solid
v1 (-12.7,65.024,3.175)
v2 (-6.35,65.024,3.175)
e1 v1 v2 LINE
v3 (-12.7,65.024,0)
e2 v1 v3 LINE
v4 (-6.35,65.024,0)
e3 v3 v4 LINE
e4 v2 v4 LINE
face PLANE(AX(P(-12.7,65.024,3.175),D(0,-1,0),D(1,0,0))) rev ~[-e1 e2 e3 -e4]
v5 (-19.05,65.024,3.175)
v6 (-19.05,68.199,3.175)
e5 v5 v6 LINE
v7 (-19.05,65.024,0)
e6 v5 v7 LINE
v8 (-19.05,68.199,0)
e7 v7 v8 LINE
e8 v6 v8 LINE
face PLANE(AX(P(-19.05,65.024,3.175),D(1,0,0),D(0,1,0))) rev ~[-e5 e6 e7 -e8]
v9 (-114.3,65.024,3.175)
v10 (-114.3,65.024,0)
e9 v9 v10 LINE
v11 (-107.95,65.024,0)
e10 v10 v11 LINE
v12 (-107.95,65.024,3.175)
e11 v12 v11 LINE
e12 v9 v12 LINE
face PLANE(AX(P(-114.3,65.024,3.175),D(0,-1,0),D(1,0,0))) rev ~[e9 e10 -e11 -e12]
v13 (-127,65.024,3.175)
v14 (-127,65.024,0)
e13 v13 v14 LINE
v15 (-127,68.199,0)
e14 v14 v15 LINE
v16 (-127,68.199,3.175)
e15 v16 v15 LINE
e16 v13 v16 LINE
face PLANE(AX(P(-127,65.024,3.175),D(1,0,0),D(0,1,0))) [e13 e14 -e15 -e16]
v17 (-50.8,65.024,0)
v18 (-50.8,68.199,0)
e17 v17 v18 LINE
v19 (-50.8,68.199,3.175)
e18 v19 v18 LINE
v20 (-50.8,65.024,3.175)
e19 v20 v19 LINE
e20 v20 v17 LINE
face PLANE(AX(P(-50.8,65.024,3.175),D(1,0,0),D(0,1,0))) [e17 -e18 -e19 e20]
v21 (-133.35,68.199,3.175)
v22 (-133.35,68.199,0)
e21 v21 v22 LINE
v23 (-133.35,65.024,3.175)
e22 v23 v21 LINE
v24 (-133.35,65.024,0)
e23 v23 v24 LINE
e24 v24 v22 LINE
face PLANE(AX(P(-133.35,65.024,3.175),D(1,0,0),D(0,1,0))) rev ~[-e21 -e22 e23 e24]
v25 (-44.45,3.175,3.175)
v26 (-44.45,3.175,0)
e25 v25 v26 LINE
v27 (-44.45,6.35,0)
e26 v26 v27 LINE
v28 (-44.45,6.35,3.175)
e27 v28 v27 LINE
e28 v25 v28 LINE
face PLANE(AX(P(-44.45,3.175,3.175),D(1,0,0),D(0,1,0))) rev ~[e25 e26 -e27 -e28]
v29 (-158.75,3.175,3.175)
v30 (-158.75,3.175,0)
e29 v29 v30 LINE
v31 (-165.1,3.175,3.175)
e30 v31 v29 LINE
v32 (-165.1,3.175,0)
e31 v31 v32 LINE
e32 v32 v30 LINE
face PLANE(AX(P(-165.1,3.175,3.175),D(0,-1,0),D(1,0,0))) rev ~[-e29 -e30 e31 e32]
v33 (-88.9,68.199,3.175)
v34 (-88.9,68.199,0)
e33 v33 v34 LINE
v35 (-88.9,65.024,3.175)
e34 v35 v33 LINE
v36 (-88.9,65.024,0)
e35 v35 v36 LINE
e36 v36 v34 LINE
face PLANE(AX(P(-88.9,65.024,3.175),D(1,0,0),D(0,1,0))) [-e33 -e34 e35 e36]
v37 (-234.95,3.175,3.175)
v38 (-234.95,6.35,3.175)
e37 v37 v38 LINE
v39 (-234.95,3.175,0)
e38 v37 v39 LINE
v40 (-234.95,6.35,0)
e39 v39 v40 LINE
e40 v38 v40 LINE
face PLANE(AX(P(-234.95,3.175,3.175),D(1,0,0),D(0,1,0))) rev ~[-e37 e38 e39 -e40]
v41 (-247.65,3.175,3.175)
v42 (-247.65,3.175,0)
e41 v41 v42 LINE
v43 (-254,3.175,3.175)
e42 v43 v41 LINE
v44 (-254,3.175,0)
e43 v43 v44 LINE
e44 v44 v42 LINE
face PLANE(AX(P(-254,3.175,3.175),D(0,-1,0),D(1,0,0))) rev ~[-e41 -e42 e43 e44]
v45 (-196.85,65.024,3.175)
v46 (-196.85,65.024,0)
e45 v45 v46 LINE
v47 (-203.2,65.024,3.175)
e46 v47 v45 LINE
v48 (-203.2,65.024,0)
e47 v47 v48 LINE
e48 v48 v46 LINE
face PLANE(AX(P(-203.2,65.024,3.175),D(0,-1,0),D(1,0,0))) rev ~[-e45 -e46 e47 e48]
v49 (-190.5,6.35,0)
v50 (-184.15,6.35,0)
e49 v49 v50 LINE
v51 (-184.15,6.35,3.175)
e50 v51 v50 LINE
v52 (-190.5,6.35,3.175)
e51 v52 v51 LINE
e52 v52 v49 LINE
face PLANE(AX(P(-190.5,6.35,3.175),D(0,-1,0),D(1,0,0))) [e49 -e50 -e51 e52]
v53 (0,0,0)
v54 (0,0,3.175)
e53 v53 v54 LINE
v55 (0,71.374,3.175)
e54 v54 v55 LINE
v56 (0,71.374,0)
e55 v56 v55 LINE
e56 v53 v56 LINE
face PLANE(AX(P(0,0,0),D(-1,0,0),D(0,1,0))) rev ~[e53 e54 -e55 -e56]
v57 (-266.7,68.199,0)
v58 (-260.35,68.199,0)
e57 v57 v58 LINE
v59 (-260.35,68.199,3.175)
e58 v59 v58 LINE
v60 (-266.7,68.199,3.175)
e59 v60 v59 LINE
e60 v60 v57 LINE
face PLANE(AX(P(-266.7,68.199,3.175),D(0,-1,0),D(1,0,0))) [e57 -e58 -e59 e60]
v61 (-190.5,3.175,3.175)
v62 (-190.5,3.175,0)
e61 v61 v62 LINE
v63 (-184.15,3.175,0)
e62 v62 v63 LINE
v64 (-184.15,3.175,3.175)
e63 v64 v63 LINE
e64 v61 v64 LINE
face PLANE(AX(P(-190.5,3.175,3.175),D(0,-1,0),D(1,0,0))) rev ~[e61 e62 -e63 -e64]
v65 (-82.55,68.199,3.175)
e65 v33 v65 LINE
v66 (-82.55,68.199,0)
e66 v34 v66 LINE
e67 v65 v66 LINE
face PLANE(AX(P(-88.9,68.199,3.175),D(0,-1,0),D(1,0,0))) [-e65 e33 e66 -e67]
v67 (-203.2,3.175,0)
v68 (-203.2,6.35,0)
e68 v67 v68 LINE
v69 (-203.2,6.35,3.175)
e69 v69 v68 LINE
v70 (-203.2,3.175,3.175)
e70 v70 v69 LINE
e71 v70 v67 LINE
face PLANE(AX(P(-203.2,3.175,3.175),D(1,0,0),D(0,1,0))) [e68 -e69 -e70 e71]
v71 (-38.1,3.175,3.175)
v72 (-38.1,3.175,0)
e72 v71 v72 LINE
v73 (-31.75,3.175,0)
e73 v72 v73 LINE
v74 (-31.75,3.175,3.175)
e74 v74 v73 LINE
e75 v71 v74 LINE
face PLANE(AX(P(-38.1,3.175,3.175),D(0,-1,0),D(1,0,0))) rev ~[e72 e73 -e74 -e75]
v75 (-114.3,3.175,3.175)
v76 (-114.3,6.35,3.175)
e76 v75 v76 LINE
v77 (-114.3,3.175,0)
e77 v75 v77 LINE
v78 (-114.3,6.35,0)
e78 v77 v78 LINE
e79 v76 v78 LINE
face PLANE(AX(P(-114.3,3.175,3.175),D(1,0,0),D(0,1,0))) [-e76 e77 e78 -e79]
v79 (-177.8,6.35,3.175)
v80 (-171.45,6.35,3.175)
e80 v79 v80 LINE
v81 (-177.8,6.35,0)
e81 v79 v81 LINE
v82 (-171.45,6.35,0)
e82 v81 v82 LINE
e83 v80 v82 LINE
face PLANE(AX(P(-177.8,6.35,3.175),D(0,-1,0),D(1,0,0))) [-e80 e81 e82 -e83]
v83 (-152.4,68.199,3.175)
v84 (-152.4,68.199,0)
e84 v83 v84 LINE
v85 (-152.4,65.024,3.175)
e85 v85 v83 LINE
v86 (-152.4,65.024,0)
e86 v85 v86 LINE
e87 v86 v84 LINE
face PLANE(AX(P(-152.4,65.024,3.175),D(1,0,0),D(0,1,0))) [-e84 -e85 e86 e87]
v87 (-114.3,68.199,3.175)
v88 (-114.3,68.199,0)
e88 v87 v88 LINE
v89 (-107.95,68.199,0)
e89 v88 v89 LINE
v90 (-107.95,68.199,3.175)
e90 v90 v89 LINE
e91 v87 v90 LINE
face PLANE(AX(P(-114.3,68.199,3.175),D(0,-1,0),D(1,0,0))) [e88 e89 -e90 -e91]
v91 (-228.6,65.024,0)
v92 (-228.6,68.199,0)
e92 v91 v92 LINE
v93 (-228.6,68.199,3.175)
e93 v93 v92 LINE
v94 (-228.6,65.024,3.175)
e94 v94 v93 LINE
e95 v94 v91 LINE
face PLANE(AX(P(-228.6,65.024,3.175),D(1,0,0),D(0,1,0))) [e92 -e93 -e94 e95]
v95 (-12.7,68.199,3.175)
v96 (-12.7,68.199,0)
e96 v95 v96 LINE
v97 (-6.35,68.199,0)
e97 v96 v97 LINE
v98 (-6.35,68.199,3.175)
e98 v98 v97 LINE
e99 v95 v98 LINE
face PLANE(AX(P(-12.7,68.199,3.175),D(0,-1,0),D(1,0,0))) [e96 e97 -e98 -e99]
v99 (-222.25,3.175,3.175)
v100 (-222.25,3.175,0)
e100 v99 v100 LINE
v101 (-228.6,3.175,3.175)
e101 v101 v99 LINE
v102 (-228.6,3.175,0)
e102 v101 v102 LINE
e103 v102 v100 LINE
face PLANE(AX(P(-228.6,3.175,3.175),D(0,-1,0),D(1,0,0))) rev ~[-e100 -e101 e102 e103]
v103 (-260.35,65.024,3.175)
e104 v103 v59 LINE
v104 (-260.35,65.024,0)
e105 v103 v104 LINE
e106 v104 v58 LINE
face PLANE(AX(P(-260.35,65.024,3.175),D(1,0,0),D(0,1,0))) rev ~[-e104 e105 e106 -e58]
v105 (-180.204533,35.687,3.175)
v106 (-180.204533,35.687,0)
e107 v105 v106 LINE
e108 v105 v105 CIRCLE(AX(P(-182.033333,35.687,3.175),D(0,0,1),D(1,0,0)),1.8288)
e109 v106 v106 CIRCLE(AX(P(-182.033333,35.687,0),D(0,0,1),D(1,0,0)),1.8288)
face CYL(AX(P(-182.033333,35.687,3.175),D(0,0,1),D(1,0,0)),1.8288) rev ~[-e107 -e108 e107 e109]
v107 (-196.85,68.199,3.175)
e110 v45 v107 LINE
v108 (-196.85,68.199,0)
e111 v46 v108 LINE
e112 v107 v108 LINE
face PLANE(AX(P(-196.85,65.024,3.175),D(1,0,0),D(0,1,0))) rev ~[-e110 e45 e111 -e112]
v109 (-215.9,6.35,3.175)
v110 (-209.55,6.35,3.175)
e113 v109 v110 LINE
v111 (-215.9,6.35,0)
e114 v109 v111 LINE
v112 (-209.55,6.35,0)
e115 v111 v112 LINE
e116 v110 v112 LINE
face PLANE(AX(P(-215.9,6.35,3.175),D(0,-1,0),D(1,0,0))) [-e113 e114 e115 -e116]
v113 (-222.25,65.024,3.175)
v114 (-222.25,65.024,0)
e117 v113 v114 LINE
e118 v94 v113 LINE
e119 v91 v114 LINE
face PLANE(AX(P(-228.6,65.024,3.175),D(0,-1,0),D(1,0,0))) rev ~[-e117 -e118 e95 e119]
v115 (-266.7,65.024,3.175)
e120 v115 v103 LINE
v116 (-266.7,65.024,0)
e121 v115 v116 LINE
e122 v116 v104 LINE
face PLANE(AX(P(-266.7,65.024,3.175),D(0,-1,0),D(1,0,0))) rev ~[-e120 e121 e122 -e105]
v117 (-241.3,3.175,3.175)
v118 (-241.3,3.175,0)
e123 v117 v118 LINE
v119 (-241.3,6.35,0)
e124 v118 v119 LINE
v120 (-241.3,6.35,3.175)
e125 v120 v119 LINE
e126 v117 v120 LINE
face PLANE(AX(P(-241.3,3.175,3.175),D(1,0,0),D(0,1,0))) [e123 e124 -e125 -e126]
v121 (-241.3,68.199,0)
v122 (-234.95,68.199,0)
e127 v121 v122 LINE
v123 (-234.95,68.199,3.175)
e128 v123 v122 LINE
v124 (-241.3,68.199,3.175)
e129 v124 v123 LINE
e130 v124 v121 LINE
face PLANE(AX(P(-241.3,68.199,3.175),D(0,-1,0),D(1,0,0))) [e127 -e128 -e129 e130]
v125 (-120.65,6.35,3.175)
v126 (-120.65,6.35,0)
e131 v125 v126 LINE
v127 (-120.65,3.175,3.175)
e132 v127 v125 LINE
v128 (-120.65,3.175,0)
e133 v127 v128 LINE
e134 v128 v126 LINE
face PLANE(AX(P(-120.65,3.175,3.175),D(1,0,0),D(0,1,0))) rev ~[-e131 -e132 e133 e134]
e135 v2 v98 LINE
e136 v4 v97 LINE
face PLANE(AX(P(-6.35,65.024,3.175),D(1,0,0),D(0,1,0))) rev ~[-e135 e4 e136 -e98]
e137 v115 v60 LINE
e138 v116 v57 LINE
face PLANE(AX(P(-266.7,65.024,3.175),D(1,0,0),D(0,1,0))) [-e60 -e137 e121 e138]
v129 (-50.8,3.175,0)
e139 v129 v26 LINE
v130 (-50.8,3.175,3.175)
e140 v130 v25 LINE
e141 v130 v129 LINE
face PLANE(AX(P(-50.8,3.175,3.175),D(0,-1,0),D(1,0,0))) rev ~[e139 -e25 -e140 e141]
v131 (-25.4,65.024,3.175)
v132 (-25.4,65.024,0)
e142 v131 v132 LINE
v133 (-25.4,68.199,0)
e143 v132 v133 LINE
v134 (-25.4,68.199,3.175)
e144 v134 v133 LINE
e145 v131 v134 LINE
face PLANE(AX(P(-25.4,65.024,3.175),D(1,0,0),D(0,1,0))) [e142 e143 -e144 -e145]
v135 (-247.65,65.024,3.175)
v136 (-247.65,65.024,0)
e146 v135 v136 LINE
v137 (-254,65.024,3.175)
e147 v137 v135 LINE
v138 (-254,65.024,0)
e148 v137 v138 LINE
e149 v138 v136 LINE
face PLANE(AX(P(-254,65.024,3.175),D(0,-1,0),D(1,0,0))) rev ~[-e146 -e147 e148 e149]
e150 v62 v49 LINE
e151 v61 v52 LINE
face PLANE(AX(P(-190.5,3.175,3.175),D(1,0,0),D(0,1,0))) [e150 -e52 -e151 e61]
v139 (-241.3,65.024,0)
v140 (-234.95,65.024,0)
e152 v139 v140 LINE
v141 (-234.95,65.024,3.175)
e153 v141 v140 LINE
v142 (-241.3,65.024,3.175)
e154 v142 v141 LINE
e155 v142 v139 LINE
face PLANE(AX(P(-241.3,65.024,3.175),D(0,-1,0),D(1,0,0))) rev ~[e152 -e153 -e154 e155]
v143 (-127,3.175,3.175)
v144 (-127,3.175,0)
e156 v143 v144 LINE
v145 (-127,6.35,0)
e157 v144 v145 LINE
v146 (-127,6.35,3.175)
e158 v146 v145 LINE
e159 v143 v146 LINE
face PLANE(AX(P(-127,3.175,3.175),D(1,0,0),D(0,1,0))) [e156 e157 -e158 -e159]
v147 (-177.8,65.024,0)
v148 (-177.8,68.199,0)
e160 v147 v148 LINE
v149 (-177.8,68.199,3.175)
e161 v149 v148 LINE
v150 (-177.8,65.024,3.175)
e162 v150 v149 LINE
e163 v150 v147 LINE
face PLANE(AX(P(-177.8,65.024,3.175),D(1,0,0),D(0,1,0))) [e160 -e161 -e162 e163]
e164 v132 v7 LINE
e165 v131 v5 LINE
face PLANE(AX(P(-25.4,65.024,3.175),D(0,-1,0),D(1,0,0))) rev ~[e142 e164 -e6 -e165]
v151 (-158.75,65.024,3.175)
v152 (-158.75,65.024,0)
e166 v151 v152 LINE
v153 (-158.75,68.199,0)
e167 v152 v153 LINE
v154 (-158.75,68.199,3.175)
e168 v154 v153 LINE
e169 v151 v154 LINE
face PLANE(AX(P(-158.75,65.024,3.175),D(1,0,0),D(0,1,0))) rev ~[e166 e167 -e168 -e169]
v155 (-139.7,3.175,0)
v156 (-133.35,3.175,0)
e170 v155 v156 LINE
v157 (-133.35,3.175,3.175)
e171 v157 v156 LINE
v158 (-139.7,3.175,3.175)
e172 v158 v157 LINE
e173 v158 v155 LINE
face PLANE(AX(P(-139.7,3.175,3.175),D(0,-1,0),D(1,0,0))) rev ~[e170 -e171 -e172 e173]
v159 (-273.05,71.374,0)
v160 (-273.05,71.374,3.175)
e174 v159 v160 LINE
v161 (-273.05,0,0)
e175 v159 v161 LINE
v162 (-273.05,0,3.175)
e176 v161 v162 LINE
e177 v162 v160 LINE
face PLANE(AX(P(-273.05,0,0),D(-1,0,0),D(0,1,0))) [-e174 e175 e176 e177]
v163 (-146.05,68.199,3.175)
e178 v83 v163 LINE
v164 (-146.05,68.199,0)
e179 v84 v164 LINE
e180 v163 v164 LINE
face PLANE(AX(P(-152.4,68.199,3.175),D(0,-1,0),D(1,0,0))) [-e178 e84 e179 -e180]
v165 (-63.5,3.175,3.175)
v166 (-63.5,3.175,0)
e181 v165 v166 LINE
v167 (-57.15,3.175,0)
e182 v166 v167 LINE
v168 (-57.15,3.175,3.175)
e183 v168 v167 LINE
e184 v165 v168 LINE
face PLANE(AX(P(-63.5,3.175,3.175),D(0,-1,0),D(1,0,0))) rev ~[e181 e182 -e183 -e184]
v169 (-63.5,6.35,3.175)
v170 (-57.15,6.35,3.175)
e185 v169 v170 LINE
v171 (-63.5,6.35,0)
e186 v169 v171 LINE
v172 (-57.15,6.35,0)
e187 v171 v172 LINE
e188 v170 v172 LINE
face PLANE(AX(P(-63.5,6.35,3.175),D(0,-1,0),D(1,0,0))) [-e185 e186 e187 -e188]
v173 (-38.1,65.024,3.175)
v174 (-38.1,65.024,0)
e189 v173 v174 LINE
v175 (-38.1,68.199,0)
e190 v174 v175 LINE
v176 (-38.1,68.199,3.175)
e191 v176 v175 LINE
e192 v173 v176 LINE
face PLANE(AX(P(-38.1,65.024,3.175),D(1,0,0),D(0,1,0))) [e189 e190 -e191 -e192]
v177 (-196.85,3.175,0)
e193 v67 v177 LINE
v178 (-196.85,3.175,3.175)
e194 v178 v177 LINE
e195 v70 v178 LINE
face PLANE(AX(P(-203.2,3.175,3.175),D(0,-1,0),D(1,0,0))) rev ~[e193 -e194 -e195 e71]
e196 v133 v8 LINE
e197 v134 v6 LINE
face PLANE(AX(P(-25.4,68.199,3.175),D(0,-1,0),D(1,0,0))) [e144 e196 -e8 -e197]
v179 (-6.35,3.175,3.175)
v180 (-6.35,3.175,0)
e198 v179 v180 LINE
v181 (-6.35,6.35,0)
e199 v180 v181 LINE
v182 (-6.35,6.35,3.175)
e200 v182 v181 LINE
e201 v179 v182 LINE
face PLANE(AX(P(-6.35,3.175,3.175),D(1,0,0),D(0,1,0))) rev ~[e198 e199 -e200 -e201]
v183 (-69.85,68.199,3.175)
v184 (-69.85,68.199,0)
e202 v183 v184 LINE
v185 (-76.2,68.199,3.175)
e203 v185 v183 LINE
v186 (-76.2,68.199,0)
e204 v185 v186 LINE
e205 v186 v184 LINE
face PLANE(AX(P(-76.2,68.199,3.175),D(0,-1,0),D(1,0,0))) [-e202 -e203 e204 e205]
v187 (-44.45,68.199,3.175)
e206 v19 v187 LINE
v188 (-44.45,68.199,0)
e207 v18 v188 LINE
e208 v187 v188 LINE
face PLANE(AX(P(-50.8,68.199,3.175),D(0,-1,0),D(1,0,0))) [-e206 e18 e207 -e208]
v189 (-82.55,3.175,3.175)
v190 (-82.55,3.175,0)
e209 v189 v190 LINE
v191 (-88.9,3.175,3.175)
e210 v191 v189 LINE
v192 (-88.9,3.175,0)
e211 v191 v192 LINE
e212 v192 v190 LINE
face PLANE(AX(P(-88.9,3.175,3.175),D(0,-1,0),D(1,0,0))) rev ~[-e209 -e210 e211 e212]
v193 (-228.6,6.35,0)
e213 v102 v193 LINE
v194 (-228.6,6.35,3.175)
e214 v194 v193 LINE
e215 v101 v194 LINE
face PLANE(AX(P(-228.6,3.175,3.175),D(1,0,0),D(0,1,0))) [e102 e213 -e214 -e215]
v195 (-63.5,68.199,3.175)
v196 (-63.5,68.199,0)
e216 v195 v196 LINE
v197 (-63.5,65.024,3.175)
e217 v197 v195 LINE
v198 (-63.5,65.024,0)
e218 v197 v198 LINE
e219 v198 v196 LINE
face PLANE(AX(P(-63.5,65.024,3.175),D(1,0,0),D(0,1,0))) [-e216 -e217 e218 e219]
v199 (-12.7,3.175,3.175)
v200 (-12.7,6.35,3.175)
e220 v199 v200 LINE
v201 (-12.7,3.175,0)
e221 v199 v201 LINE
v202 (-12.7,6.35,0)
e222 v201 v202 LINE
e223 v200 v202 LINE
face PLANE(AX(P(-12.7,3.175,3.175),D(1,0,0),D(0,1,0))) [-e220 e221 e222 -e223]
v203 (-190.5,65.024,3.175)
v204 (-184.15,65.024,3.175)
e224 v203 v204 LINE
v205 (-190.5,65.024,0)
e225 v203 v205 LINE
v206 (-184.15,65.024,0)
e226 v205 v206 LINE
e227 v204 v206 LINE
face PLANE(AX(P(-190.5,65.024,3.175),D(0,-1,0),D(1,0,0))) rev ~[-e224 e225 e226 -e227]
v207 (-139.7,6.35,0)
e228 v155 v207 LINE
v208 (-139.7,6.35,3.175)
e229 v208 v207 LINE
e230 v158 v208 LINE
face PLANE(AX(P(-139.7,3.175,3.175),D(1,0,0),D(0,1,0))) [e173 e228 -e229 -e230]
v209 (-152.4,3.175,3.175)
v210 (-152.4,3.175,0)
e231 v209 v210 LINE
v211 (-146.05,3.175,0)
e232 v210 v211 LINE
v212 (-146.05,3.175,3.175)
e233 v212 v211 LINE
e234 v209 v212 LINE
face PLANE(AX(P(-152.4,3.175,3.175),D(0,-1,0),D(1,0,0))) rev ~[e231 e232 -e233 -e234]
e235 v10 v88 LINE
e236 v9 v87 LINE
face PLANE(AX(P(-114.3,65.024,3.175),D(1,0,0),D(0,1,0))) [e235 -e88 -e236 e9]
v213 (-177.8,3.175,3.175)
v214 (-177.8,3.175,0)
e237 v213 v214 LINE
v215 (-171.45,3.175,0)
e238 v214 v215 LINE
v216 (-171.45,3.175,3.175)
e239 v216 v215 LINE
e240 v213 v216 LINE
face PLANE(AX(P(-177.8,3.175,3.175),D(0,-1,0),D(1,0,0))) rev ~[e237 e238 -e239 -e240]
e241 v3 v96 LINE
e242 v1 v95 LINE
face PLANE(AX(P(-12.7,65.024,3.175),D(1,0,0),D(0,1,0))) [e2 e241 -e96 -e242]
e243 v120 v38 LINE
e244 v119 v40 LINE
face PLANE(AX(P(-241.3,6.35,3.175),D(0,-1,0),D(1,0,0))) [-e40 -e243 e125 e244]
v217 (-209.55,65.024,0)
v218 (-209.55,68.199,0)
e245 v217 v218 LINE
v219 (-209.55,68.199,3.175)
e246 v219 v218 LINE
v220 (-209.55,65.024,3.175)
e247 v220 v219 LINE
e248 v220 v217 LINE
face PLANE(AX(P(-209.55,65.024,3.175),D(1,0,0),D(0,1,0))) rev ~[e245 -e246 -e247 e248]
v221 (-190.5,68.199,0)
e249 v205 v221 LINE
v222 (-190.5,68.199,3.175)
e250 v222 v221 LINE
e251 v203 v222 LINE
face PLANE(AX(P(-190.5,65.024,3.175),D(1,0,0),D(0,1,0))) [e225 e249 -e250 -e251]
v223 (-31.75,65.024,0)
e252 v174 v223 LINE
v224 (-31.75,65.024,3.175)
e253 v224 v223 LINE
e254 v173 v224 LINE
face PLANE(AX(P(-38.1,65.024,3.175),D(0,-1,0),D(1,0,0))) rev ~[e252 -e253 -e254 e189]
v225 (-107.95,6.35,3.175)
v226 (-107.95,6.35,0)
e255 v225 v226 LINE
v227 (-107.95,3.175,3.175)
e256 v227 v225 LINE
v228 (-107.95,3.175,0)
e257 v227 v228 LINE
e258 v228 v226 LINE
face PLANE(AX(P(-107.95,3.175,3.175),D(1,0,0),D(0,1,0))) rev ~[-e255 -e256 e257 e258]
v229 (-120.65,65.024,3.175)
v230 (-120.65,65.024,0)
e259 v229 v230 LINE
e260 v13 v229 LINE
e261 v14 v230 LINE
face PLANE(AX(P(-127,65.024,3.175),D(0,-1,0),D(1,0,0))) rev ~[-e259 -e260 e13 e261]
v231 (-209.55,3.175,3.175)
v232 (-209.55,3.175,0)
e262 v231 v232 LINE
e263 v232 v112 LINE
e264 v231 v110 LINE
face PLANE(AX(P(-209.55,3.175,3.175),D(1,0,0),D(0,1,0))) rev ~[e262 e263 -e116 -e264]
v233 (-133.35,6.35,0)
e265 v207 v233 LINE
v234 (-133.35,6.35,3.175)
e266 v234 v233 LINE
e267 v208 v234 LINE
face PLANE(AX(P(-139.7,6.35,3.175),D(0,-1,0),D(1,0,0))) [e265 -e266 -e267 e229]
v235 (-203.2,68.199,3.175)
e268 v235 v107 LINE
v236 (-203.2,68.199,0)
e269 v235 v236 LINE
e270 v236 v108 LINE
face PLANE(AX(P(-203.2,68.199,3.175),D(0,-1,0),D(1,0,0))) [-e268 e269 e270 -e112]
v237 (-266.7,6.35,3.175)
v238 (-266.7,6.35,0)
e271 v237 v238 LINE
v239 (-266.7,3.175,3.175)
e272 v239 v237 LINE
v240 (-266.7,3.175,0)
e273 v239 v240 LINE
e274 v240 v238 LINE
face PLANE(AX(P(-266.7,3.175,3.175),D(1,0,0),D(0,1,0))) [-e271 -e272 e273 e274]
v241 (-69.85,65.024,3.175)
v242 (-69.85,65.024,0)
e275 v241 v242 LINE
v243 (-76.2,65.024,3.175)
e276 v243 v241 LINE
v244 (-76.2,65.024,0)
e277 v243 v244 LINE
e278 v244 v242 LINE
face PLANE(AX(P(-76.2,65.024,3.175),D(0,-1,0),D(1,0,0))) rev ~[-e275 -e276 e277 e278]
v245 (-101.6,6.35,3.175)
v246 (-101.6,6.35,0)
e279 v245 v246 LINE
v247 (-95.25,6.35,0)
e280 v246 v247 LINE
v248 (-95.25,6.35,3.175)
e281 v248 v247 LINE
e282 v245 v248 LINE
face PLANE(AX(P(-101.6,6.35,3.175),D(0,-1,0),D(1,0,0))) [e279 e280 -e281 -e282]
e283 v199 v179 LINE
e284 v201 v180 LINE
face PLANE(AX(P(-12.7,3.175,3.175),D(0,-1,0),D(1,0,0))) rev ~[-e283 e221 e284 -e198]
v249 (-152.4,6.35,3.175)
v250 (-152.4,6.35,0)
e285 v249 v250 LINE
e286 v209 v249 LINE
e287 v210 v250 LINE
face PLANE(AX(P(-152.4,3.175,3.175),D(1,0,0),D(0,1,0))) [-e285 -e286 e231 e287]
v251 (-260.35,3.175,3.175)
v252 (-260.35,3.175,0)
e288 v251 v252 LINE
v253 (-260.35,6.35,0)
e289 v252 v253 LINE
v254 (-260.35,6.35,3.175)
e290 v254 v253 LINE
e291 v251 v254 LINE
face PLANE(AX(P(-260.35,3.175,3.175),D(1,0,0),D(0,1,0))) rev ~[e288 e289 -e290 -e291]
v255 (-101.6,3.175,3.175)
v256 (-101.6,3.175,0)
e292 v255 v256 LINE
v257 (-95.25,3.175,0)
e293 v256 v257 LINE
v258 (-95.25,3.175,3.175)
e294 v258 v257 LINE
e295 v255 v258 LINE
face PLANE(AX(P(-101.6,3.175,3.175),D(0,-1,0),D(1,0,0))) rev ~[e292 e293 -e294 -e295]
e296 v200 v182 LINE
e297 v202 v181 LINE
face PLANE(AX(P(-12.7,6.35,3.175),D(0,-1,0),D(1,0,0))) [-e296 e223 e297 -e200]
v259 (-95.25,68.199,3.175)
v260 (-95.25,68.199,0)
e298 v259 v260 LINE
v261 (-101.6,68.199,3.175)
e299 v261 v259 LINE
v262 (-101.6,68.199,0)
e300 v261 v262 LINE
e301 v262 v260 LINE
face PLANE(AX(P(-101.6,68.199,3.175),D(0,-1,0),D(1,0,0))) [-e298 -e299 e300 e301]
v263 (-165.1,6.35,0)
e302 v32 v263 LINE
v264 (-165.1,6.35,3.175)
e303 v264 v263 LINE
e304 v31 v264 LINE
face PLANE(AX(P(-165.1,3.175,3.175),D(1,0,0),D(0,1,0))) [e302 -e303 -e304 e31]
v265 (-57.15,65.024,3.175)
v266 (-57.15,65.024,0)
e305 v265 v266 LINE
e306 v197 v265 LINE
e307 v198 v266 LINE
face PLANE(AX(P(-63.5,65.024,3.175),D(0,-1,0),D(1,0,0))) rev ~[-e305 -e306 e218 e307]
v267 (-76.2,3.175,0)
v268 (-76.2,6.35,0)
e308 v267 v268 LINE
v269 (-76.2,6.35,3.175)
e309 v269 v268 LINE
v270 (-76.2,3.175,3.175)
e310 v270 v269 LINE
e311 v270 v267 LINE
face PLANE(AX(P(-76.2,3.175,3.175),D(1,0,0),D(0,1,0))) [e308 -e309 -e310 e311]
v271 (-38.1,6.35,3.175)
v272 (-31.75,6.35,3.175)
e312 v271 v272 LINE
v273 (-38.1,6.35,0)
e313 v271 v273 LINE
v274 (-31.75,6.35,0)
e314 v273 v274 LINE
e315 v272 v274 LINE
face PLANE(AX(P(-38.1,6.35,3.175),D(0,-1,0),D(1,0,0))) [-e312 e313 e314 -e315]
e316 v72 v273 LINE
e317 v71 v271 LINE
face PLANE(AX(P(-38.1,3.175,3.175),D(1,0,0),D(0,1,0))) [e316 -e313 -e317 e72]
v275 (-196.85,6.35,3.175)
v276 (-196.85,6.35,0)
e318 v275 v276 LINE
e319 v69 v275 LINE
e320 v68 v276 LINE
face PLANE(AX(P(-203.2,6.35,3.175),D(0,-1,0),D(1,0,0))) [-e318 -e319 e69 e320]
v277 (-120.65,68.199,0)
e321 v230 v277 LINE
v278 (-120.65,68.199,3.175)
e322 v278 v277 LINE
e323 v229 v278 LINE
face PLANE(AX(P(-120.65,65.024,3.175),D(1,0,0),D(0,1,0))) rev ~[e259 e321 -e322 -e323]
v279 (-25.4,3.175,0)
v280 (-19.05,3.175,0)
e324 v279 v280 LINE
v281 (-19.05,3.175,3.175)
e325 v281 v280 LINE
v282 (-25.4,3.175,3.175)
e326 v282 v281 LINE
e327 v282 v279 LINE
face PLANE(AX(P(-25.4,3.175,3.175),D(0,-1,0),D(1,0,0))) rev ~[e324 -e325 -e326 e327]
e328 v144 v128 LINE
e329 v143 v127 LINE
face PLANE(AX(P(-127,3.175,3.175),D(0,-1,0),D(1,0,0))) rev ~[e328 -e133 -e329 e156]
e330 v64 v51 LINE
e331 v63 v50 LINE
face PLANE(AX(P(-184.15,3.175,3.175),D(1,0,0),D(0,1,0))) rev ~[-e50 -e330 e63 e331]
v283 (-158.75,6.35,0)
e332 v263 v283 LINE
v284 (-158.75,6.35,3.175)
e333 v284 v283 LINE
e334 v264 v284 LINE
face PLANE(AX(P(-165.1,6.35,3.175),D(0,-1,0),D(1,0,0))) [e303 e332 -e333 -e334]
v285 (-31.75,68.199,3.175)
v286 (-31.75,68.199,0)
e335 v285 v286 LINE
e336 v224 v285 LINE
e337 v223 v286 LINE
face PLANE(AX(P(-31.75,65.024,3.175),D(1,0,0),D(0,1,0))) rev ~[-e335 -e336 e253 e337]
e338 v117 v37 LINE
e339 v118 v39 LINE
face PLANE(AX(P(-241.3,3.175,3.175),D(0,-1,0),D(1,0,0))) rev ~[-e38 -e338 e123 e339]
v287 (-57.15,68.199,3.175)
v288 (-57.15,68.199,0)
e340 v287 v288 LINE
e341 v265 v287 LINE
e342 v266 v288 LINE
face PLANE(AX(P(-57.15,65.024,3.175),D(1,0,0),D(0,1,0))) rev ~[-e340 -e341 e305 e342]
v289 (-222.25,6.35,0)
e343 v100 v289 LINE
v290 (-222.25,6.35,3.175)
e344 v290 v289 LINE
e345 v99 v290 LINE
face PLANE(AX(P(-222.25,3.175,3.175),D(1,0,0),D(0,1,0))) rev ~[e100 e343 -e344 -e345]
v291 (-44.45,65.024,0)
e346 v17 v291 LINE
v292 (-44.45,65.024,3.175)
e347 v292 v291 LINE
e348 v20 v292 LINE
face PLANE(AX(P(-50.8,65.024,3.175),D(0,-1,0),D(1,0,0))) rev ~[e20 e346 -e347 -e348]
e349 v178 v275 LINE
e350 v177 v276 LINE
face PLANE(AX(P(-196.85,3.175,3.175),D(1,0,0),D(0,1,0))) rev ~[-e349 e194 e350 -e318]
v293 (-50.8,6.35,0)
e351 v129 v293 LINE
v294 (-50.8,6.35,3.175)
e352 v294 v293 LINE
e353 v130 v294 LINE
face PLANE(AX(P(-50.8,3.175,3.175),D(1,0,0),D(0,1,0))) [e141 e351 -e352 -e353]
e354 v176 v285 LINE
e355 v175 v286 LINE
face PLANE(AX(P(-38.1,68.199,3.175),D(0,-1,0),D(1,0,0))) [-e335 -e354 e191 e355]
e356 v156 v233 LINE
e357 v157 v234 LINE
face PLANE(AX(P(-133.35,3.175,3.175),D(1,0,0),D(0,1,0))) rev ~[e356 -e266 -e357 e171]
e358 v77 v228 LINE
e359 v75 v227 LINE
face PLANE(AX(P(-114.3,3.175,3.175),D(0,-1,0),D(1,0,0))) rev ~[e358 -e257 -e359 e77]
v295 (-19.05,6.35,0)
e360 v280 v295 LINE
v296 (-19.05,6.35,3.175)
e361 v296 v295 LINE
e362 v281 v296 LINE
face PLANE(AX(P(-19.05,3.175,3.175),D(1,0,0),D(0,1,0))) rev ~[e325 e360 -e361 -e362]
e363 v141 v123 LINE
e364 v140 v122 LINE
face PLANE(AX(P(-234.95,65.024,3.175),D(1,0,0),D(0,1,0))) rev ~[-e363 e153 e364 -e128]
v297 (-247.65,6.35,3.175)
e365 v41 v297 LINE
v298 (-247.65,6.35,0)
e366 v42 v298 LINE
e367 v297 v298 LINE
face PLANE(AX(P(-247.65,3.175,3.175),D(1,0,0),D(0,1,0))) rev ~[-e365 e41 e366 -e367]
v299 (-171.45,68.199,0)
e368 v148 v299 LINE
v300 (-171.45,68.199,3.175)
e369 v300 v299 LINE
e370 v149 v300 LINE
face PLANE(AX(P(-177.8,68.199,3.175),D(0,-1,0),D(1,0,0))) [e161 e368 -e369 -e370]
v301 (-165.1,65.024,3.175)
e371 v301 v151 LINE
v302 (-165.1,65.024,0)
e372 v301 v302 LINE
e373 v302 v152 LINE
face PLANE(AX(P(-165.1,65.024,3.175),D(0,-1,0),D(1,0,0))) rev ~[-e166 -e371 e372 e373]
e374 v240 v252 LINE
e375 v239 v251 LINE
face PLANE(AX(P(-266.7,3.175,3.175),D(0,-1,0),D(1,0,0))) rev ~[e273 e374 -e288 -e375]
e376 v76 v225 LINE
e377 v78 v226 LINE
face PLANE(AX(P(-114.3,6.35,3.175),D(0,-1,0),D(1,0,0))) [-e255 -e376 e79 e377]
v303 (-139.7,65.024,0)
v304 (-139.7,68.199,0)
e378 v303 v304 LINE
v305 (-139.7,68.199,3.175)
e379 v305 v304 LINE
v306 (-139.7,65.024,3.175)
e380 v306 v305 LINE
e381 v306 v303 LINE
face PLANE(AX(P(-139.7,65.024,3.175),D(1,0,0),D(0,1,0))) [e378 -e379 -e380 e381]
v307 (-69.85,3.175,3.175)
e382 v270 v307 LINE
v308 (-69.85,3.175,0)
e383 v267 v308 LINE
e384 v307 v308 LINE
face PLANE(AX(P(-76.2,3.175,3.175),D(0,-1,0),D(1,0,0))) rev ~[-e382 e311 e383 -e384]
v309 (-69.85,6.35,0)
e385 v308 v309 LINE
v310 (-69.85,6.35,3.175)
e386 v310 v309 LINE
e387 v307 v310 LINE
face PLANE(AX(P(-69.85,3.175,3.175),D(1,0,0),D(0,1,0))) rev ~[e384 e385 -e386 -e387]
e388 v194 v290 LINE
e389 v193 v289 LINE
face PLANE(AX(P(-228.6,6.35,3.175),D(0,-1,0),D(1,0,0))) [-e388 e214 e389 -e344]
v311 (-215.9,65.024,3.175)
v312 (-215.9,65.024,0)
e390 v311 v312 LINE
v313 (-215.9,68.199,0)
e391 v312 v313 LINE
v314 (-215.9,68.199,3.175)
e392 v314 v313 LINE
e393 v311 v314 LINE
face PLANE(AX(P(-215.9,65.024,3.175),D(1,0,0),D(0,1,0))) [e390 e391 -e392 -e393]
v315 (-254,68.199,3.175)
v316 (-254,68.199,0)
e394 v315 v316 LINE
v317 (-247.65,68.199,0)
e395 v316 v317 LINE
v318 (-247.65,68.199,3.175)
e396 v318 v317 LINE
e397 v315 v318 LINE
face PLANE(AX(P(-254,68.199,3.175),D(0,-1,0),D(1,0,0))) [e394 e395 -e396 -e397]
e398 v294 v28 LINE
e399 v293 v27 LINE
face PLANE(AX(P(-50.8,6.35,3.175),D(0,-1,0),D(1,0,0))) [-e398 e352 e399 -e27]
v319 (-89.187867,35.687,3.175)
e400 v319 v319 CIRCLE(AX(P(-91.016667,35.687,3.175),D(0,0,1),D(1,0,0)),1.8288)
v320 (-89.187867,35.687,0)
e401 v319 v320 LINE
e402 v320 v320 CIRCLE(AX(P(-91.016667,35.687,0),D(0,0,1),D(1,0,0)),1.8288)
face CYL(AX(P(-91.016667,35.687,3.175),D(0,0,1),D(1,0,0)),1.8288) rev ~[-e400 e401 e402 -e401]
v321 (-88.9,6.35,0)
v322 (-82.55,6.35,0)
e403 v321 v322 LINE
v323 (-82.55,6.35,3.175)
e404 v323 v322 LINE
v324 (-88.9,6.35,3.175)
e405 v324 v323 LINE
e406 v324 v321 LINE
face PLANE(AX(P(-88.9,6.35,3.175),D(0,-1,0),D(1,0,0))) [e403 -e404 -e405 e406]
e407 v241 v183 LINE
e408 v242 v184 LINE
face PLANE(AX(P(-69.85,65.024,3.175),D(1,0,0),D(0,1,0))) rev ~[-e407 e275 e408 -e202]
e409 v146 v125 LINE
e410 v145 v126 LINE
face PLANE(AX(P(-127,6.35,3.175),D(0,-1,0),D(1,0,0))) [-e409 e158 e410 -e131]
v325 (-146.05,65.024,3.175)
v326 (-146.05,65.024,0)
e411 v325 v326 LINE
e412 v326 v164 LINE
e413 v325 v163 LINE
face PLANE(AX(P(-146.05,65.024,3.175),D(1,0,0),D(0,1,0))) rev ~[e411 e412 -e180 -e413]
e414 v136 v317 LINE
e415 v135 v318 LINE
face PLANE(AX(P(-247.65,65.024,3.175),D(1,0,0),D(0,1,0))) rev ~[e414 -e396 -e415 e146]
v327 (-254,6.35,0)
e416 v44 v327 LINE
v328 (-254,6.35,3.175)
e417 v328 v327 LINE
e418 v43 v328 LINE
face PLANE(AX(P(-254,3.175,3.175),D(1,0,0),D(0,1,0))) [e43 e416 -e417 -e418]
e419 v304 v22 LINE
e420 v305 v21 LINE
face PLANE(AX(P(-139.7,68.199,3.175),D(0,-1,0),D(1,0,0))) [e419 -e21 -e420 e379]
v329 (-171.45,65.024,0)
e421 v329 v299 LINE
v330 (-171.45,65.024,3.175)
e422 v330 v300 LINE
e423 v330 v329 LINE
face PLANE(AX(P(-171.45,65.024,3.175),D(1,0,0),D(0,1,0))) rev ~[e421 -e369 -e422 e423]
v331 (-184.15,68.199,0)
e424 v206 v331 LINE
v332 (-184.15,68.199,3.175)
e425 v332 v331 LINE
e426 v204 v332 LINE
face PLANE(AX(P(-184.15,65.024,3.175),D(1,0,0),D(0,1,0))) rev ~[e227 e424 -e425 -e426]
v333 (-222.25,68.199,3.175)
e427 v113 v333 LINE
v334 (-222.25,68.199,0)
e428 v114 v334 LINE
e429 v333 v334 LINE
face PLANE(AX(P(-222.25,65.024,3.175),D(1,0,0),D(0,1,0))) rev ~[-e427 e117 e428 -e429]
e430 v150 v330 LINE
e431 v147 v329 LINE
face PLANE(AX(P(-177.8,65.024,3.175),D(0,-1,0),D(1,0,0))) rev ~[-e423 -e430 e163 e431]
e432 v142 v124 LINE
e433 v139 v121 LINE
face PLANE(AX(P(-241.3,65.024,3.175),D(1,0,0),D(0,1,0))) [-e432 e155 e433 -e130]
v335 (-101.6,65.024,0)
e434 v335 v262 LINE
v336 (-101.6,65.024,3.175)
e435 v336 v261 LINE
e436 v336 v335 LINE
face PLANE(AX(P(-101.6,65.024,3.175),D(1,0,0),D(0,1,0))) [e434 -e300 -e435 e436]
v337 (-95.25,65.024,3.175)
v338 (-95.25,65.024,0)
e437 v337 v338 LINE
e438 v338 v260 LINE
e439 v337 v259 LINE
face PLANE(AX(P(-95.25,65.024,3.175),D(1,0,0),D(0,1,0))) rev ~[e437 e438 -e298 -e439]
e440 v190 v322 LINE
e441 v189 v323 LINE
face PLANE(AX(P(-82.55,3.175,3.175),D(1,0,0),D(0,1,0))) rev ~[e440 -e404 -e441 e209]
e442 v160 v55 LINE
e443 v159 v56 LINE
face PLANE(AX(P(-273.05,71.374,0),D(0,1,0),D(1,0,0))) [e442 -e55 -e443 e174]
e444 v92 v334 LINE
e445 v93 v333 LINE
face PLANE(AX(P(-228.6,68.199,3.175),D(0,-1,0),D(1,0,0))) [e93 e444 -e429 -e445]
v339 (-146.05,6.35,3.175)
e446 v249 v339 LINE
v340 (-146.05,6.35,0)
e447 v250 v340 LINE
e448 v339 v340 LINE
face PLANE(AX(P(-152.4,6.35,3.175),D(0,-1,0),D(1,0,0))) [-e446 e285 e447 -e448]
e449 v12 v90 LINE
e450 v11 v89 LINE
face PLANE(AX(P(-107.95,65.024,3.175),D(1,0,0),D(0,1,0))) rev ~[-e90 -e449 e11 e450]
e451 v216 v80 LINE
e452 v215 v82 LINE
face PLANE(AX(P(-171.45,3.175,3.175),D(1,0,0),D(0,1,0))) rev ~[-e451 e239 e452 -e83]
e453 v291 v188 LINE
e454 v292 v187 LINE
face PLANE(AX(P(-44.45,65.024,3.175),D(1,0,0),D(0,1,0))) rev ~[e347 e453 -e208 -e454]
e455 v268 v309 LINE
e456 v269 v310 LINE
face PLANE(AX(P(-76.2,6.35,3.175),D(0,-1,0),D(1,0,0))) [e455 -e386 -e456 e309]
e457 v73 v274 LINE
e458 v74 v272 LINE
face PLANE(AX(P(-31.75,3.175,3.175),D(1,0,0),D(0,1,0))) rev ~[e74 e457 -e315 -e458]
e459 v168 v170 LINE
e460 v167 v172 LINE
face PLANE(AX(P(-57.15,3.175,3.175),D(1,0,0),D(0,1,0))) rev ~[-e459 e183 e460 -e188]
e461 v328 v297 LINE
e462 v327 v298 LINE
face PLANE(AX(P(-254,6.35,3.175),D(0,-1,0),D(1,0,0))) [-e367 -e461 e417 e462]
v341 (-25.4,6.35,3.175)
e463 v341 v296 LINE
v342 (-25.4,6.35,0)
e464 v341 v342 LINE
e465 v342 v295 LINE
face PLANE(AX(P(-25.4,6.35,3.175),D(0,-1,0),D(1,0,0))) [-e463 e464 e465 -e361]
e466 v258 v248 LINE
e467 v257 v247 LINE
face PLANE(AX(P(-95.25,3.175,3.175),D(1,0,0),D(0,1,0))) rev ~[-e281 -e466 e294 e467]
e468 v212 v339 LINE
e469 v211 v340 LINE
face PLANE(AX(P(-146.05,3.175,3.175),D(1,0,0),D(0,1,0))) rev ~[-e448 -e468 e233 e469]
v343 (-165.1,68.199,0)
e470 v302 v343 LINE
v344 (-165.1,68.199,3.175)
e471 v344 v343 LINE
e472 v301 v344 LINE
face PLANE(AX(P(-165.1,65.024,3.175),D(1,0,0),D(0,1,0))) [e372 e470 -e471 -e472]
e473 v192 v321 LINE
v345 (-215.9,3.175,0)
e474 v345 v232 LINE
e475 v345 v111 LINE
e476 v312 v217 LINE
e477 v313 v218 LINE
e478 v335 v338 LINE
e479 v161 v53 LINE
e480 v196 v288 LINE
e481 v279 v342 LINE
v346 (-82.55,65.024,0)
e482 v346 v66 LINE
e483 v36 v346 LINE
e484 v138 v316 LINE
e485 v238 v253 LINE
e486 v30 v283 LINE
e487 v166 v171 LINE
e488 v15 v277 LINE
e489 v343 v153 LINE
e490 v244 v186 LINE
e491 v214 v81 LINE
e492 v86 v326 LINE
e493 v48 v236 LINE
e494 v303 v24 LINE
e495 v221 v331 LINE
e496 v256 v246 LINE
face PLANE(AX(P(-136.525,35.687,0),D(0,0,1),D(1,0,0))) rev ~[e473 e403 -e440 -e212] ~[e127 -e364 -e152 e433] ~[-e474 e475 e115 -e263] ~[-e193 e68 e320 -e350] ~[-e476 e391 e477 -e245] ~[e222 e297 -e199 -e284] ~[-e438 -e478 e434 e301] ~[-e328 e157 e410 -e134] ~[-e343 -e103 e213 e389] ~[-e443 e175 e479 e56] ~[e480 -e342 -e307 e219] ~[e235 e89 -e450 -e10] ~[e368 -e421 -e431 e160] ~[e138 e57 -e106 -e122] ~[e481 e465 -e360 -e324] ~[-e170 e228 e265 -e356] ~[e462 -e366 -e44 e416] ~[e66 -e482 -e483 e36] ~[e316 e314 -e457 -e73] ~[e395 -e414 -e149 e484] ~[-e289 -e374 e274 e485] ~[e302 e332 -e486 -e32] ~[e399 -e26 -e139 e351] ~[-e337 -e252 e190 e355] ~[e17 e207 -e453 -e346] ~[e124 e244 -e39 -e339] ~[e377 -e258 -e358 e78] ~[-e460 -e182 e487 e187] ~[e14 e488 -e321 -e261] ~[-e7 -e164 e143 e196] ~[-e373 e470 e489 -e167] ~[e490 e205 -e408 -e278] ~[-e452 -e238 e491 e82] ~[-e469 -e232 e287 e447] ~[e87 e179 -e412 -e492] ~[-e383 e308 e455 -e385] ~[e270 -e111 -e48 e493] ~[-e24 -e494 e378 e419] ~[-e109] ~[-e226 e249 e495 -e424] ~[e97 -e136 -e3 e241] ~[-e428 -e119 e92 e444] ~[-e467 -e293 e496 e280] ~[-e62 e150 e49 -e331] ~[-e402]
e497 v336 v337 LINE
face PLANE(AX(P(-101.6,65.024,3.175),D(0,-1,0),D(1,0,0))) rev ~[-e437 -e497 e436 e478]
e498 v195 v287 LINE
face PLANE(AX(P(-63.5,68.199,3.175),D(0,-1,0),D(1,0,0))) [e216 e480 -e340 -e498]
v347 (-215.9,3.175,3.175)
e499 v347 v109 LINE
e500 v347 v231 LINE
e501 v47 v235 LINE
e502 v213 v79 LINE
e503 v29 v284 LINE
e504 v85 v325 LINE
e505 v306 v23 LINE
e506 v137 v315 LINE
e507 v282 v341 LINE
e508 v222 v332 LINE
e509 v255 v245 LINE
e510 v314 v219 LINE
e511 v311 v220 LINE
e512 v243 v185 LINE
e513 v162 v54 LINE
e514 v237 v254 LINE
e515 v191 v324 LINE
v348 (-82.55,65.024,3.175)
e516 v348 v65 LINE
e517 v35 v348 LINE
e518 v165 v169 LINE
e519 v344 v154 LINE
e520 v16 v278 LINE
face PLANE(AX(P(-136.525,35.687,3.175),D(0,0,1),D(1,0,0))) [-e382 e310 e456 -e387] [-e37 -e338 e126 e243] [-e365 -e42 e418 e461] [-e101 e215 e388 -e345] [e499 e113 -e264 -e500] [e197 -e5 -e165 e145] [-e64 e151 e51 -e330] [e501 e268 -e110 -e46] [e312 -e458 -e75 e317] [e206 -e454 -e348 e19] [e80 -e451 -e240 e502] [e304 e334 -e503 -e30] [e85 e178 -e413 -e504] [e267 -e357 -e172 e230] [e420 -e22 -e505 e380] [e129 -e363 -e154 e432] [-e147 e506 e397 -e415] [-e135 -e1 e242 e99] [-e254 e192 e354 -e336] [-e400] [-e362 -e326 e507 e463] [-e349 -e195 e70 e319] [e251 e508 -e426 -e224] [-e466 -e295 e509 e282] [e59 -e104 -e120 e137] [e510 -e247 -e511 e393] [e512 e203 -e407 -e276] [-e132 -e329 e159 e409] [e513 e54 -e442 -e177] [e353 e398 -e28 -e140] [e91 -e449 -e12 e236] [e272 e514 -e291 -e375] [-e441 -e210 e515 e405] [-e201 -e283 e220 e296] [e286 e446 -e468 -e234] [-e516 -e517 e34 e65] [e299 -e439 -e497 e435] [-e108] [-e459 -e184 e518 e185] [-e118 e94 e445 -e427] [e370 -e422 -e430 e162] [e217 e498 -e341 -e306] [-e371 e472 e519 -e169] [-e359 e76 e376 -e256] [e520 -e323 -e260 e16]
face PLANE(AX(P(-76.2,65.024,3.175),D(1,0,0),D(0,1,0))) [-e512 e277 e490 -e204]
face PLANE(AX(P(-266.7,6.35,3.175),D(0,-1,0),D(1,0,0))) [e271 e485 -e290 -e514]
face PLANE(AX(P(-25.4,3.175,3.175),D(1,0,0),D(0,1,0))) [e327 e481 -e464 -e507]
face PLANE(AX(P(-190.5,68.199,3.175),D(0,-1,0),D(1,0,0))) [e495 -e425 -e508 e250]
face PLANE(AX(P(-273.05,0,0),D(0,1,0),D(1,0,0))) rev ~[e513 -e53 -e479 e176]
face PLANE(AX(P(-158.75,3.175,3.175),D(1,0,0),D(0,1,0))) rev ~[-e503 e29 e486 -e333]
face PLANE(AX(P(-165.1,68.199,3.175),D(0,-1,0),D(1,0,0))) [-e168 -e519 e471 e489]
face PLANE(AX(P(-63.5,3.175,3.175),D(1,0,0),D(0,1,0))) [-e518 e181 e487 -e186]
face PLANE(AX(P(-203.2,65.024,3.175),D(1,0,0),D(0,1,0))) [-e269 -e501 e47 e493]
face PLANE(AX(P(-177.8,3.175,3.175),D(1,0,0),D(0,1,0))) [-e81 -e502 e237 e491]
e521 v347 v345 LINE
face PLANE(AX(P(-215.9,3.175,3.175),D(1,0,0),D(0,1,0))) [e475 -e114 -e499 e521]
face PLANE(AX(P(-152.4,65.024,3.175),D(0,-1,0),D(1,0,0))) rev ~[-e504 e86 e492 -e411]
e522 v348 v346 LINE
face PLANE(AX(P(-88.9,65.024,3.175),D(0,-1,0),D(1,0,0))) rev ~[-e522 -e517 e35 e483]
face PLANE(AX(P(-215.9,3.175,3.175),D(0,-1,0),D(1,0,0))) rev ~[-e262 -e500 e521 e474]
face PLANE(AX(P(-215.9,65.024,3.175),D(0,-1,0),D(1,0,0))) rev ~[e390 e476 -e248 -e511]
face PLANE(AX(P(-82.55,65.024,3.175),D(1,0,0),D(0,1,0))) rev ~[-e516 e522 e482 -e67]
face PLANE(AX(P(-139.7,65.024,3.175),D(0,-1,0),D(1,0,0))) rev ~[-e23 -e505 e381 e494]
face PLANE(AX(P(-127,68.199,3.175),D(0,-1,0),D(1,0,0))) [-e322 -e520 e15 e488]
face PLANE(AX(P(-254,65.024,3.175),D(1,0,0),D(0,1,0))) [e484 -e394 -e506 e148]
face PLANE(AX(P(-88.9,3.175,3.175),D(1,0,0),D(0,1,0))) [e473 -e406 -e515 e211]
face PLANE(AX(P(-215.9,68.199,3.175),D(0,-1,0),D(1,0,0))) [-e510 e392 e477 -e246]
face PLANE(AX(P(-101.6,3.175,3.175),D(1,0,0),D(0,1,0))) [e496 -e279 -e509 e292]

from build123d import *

# Parameters (mm, degrees)
F0_W     = 273.05
F0_H     = 71.374
F1_DEPTH = 3.175
F2_R     = 1.8288
F2_W     = 6.35
F2_H     = 3.175
F3_DEPTH = 3.175


with BuildPart() as f1:
    # F0 (on Top) → F1 (new body)
    with BuildSketch(Plane.XY):
        with Locations((-136.525, 35.687)):
            Rectangle(F0_W, F0_H)
    extrude(amount=F1_DEPTH)

    # F2 (on face) → F3 (cut, through all)
    with BuildSketch(Plane.XY.offset(3.175)):
        with Locations((-182.033333, 35.687)):
            Circle(F2_R)
        with Locations((-91.016667, 35.687)):
            Circle(F2_R)
        with Locations((-9.525, 4.7625)):
            Rectangle(F2_W, F2_H)
        with Locations((-9.525, 66.6115)):
            Rectangle(F2_W, F2_H)
        with Locations((-22.225, 66.6115)):
            Rectangle(F2_W, F2_H)
        with Locations((-34.925, 66.6115)):
            Rectangle(F2_W, F2_H)
        with Locations((-47.625, 66.6115)):
            Rectangle(F2_W, F2_H)
        with Locations((-60.325, 66.6115)):
            Rectangle(F2_W, F2_H)
        with Locations((-73.025, 66.6115)):
            Rectangle(F2_W, F2_H)
        with Locations((-85.725, 66.6115)):
            Rectangle(F2_W, F2_H)
        with Locations((-98.425, 66.6115)):
            Rectangle(F2_W, F2_H)
        with Locations((-111.125, 66.6115)):
            Rectangle(F2_W, F2_H)
        with Locations((-123.825, 66.6115)):
            Rectangle(F2_W, F2_H)
        with Locations((-136.525, 66.6115)):
            Rectangle(F2_W, F2_H)
        with Locations((-149.225, 66.6115)):
            Rectangle(F2_W, F2_H)
        with Locations((-161.925, 66.6115)):
            Rectangle(F2_W, F2_H)
        with Locations((-174.625, 66.6115)):
            Rectangle(F2_W, F2_H)
        with Locations((-187.325, 66.6115)):
            Rectangle(F2_W, F2_H)
        with Locations((-200.025, 66.6115)):
            Rectangle(F2_W, F2_H)
        with Locations((-212.725, 66.6115)):
            Rectangle(F2_W, F2_H)
        with Locations((-225.425, 66.6115)):
            Rectangle(F2_W, F2_H)
        with Locations((-238.125, 66.6115)):
            Rectangle(F2_W, F2_H)
        with Locations((-250.825, 66.6115)):
            Rectangle(F2_W, F2_H)
        with Locations((-263.525, 66.6115)):
            Rectangle(F2_W, F2_H)
        with Locations((-276.225, 66.6115)):
            Rectangle(F2_W, F2_H)
        with Locations((-22.225, 4.7625)):
            Rectangle(F2_W, F2_H)
        with Locations((-34.925, 4.7625)):
            Rectangle(F2_W, F2_H)
        with Locations((-47.625, 4.7625)):
            Rectangle(F2_W, F2_H)
        with Locations((-60.325, 4.7625)):
            Rectangle(F2_W, F2_H)
        with Locations((-73.025, 4.7625)):
            Rectangle(F2_W, F2_H)
        with Locations((-85.725, 4.7625)):
            Rectangle(F2_W, F2_H)
        with Locations((-98.425, 4.7625)):
            Rectangle(F2_W, F2_H)
        with Locations((-111.125, 4.7625)):
            Rectangle(F2_W, F2_H)
        with Locations((-123.825, 4.7625)):
            Rectangle(F2_W, F2_H)
        with Locations((-136.525, 4.7625)):
            Rectangle(F2_W, F2_H)
        with Locations((-149.225, 4.7625)):
            Rectangle(F2_W, F2_H)
        with Locations((-161.925, 4.7625)):
            Rectangle(F2_W, F2_H)
        with Locations((-174.625, 4.7625)):
            Rectangle(F2_W, F2_H)
        with Locations((-187.325, 4.7625)):
            Rectangle(F2_W, F2_H)
        with Locations((-200.025, 4.7625)):
            Rectangle(F2_W, F2_H)
        with Locations((-212.725, 4.7625)):
            Rectangle(F2_W, F2_H)
        with Locations((-225.425, 4.7625)):
            Rectangle(F2_W, F2_H)
        with Locations((-238.125, 4.7625)):
            Rectangle(F2_W, F2_H)
        with Locations((-250.825, 4.7625)):
            Rectangle(F2_W, F2_H)
        with Locations((-263.525, 4.7625)):
            Rectangle(F2_W, F2_H)
        with Locations((-276.225, 4.7625)):
            Rectangle(F2_W, F2_H)
    extrude(amount=-F3_DEPTH, mode=Mode.SUBTRACT)


solid = f1.part
